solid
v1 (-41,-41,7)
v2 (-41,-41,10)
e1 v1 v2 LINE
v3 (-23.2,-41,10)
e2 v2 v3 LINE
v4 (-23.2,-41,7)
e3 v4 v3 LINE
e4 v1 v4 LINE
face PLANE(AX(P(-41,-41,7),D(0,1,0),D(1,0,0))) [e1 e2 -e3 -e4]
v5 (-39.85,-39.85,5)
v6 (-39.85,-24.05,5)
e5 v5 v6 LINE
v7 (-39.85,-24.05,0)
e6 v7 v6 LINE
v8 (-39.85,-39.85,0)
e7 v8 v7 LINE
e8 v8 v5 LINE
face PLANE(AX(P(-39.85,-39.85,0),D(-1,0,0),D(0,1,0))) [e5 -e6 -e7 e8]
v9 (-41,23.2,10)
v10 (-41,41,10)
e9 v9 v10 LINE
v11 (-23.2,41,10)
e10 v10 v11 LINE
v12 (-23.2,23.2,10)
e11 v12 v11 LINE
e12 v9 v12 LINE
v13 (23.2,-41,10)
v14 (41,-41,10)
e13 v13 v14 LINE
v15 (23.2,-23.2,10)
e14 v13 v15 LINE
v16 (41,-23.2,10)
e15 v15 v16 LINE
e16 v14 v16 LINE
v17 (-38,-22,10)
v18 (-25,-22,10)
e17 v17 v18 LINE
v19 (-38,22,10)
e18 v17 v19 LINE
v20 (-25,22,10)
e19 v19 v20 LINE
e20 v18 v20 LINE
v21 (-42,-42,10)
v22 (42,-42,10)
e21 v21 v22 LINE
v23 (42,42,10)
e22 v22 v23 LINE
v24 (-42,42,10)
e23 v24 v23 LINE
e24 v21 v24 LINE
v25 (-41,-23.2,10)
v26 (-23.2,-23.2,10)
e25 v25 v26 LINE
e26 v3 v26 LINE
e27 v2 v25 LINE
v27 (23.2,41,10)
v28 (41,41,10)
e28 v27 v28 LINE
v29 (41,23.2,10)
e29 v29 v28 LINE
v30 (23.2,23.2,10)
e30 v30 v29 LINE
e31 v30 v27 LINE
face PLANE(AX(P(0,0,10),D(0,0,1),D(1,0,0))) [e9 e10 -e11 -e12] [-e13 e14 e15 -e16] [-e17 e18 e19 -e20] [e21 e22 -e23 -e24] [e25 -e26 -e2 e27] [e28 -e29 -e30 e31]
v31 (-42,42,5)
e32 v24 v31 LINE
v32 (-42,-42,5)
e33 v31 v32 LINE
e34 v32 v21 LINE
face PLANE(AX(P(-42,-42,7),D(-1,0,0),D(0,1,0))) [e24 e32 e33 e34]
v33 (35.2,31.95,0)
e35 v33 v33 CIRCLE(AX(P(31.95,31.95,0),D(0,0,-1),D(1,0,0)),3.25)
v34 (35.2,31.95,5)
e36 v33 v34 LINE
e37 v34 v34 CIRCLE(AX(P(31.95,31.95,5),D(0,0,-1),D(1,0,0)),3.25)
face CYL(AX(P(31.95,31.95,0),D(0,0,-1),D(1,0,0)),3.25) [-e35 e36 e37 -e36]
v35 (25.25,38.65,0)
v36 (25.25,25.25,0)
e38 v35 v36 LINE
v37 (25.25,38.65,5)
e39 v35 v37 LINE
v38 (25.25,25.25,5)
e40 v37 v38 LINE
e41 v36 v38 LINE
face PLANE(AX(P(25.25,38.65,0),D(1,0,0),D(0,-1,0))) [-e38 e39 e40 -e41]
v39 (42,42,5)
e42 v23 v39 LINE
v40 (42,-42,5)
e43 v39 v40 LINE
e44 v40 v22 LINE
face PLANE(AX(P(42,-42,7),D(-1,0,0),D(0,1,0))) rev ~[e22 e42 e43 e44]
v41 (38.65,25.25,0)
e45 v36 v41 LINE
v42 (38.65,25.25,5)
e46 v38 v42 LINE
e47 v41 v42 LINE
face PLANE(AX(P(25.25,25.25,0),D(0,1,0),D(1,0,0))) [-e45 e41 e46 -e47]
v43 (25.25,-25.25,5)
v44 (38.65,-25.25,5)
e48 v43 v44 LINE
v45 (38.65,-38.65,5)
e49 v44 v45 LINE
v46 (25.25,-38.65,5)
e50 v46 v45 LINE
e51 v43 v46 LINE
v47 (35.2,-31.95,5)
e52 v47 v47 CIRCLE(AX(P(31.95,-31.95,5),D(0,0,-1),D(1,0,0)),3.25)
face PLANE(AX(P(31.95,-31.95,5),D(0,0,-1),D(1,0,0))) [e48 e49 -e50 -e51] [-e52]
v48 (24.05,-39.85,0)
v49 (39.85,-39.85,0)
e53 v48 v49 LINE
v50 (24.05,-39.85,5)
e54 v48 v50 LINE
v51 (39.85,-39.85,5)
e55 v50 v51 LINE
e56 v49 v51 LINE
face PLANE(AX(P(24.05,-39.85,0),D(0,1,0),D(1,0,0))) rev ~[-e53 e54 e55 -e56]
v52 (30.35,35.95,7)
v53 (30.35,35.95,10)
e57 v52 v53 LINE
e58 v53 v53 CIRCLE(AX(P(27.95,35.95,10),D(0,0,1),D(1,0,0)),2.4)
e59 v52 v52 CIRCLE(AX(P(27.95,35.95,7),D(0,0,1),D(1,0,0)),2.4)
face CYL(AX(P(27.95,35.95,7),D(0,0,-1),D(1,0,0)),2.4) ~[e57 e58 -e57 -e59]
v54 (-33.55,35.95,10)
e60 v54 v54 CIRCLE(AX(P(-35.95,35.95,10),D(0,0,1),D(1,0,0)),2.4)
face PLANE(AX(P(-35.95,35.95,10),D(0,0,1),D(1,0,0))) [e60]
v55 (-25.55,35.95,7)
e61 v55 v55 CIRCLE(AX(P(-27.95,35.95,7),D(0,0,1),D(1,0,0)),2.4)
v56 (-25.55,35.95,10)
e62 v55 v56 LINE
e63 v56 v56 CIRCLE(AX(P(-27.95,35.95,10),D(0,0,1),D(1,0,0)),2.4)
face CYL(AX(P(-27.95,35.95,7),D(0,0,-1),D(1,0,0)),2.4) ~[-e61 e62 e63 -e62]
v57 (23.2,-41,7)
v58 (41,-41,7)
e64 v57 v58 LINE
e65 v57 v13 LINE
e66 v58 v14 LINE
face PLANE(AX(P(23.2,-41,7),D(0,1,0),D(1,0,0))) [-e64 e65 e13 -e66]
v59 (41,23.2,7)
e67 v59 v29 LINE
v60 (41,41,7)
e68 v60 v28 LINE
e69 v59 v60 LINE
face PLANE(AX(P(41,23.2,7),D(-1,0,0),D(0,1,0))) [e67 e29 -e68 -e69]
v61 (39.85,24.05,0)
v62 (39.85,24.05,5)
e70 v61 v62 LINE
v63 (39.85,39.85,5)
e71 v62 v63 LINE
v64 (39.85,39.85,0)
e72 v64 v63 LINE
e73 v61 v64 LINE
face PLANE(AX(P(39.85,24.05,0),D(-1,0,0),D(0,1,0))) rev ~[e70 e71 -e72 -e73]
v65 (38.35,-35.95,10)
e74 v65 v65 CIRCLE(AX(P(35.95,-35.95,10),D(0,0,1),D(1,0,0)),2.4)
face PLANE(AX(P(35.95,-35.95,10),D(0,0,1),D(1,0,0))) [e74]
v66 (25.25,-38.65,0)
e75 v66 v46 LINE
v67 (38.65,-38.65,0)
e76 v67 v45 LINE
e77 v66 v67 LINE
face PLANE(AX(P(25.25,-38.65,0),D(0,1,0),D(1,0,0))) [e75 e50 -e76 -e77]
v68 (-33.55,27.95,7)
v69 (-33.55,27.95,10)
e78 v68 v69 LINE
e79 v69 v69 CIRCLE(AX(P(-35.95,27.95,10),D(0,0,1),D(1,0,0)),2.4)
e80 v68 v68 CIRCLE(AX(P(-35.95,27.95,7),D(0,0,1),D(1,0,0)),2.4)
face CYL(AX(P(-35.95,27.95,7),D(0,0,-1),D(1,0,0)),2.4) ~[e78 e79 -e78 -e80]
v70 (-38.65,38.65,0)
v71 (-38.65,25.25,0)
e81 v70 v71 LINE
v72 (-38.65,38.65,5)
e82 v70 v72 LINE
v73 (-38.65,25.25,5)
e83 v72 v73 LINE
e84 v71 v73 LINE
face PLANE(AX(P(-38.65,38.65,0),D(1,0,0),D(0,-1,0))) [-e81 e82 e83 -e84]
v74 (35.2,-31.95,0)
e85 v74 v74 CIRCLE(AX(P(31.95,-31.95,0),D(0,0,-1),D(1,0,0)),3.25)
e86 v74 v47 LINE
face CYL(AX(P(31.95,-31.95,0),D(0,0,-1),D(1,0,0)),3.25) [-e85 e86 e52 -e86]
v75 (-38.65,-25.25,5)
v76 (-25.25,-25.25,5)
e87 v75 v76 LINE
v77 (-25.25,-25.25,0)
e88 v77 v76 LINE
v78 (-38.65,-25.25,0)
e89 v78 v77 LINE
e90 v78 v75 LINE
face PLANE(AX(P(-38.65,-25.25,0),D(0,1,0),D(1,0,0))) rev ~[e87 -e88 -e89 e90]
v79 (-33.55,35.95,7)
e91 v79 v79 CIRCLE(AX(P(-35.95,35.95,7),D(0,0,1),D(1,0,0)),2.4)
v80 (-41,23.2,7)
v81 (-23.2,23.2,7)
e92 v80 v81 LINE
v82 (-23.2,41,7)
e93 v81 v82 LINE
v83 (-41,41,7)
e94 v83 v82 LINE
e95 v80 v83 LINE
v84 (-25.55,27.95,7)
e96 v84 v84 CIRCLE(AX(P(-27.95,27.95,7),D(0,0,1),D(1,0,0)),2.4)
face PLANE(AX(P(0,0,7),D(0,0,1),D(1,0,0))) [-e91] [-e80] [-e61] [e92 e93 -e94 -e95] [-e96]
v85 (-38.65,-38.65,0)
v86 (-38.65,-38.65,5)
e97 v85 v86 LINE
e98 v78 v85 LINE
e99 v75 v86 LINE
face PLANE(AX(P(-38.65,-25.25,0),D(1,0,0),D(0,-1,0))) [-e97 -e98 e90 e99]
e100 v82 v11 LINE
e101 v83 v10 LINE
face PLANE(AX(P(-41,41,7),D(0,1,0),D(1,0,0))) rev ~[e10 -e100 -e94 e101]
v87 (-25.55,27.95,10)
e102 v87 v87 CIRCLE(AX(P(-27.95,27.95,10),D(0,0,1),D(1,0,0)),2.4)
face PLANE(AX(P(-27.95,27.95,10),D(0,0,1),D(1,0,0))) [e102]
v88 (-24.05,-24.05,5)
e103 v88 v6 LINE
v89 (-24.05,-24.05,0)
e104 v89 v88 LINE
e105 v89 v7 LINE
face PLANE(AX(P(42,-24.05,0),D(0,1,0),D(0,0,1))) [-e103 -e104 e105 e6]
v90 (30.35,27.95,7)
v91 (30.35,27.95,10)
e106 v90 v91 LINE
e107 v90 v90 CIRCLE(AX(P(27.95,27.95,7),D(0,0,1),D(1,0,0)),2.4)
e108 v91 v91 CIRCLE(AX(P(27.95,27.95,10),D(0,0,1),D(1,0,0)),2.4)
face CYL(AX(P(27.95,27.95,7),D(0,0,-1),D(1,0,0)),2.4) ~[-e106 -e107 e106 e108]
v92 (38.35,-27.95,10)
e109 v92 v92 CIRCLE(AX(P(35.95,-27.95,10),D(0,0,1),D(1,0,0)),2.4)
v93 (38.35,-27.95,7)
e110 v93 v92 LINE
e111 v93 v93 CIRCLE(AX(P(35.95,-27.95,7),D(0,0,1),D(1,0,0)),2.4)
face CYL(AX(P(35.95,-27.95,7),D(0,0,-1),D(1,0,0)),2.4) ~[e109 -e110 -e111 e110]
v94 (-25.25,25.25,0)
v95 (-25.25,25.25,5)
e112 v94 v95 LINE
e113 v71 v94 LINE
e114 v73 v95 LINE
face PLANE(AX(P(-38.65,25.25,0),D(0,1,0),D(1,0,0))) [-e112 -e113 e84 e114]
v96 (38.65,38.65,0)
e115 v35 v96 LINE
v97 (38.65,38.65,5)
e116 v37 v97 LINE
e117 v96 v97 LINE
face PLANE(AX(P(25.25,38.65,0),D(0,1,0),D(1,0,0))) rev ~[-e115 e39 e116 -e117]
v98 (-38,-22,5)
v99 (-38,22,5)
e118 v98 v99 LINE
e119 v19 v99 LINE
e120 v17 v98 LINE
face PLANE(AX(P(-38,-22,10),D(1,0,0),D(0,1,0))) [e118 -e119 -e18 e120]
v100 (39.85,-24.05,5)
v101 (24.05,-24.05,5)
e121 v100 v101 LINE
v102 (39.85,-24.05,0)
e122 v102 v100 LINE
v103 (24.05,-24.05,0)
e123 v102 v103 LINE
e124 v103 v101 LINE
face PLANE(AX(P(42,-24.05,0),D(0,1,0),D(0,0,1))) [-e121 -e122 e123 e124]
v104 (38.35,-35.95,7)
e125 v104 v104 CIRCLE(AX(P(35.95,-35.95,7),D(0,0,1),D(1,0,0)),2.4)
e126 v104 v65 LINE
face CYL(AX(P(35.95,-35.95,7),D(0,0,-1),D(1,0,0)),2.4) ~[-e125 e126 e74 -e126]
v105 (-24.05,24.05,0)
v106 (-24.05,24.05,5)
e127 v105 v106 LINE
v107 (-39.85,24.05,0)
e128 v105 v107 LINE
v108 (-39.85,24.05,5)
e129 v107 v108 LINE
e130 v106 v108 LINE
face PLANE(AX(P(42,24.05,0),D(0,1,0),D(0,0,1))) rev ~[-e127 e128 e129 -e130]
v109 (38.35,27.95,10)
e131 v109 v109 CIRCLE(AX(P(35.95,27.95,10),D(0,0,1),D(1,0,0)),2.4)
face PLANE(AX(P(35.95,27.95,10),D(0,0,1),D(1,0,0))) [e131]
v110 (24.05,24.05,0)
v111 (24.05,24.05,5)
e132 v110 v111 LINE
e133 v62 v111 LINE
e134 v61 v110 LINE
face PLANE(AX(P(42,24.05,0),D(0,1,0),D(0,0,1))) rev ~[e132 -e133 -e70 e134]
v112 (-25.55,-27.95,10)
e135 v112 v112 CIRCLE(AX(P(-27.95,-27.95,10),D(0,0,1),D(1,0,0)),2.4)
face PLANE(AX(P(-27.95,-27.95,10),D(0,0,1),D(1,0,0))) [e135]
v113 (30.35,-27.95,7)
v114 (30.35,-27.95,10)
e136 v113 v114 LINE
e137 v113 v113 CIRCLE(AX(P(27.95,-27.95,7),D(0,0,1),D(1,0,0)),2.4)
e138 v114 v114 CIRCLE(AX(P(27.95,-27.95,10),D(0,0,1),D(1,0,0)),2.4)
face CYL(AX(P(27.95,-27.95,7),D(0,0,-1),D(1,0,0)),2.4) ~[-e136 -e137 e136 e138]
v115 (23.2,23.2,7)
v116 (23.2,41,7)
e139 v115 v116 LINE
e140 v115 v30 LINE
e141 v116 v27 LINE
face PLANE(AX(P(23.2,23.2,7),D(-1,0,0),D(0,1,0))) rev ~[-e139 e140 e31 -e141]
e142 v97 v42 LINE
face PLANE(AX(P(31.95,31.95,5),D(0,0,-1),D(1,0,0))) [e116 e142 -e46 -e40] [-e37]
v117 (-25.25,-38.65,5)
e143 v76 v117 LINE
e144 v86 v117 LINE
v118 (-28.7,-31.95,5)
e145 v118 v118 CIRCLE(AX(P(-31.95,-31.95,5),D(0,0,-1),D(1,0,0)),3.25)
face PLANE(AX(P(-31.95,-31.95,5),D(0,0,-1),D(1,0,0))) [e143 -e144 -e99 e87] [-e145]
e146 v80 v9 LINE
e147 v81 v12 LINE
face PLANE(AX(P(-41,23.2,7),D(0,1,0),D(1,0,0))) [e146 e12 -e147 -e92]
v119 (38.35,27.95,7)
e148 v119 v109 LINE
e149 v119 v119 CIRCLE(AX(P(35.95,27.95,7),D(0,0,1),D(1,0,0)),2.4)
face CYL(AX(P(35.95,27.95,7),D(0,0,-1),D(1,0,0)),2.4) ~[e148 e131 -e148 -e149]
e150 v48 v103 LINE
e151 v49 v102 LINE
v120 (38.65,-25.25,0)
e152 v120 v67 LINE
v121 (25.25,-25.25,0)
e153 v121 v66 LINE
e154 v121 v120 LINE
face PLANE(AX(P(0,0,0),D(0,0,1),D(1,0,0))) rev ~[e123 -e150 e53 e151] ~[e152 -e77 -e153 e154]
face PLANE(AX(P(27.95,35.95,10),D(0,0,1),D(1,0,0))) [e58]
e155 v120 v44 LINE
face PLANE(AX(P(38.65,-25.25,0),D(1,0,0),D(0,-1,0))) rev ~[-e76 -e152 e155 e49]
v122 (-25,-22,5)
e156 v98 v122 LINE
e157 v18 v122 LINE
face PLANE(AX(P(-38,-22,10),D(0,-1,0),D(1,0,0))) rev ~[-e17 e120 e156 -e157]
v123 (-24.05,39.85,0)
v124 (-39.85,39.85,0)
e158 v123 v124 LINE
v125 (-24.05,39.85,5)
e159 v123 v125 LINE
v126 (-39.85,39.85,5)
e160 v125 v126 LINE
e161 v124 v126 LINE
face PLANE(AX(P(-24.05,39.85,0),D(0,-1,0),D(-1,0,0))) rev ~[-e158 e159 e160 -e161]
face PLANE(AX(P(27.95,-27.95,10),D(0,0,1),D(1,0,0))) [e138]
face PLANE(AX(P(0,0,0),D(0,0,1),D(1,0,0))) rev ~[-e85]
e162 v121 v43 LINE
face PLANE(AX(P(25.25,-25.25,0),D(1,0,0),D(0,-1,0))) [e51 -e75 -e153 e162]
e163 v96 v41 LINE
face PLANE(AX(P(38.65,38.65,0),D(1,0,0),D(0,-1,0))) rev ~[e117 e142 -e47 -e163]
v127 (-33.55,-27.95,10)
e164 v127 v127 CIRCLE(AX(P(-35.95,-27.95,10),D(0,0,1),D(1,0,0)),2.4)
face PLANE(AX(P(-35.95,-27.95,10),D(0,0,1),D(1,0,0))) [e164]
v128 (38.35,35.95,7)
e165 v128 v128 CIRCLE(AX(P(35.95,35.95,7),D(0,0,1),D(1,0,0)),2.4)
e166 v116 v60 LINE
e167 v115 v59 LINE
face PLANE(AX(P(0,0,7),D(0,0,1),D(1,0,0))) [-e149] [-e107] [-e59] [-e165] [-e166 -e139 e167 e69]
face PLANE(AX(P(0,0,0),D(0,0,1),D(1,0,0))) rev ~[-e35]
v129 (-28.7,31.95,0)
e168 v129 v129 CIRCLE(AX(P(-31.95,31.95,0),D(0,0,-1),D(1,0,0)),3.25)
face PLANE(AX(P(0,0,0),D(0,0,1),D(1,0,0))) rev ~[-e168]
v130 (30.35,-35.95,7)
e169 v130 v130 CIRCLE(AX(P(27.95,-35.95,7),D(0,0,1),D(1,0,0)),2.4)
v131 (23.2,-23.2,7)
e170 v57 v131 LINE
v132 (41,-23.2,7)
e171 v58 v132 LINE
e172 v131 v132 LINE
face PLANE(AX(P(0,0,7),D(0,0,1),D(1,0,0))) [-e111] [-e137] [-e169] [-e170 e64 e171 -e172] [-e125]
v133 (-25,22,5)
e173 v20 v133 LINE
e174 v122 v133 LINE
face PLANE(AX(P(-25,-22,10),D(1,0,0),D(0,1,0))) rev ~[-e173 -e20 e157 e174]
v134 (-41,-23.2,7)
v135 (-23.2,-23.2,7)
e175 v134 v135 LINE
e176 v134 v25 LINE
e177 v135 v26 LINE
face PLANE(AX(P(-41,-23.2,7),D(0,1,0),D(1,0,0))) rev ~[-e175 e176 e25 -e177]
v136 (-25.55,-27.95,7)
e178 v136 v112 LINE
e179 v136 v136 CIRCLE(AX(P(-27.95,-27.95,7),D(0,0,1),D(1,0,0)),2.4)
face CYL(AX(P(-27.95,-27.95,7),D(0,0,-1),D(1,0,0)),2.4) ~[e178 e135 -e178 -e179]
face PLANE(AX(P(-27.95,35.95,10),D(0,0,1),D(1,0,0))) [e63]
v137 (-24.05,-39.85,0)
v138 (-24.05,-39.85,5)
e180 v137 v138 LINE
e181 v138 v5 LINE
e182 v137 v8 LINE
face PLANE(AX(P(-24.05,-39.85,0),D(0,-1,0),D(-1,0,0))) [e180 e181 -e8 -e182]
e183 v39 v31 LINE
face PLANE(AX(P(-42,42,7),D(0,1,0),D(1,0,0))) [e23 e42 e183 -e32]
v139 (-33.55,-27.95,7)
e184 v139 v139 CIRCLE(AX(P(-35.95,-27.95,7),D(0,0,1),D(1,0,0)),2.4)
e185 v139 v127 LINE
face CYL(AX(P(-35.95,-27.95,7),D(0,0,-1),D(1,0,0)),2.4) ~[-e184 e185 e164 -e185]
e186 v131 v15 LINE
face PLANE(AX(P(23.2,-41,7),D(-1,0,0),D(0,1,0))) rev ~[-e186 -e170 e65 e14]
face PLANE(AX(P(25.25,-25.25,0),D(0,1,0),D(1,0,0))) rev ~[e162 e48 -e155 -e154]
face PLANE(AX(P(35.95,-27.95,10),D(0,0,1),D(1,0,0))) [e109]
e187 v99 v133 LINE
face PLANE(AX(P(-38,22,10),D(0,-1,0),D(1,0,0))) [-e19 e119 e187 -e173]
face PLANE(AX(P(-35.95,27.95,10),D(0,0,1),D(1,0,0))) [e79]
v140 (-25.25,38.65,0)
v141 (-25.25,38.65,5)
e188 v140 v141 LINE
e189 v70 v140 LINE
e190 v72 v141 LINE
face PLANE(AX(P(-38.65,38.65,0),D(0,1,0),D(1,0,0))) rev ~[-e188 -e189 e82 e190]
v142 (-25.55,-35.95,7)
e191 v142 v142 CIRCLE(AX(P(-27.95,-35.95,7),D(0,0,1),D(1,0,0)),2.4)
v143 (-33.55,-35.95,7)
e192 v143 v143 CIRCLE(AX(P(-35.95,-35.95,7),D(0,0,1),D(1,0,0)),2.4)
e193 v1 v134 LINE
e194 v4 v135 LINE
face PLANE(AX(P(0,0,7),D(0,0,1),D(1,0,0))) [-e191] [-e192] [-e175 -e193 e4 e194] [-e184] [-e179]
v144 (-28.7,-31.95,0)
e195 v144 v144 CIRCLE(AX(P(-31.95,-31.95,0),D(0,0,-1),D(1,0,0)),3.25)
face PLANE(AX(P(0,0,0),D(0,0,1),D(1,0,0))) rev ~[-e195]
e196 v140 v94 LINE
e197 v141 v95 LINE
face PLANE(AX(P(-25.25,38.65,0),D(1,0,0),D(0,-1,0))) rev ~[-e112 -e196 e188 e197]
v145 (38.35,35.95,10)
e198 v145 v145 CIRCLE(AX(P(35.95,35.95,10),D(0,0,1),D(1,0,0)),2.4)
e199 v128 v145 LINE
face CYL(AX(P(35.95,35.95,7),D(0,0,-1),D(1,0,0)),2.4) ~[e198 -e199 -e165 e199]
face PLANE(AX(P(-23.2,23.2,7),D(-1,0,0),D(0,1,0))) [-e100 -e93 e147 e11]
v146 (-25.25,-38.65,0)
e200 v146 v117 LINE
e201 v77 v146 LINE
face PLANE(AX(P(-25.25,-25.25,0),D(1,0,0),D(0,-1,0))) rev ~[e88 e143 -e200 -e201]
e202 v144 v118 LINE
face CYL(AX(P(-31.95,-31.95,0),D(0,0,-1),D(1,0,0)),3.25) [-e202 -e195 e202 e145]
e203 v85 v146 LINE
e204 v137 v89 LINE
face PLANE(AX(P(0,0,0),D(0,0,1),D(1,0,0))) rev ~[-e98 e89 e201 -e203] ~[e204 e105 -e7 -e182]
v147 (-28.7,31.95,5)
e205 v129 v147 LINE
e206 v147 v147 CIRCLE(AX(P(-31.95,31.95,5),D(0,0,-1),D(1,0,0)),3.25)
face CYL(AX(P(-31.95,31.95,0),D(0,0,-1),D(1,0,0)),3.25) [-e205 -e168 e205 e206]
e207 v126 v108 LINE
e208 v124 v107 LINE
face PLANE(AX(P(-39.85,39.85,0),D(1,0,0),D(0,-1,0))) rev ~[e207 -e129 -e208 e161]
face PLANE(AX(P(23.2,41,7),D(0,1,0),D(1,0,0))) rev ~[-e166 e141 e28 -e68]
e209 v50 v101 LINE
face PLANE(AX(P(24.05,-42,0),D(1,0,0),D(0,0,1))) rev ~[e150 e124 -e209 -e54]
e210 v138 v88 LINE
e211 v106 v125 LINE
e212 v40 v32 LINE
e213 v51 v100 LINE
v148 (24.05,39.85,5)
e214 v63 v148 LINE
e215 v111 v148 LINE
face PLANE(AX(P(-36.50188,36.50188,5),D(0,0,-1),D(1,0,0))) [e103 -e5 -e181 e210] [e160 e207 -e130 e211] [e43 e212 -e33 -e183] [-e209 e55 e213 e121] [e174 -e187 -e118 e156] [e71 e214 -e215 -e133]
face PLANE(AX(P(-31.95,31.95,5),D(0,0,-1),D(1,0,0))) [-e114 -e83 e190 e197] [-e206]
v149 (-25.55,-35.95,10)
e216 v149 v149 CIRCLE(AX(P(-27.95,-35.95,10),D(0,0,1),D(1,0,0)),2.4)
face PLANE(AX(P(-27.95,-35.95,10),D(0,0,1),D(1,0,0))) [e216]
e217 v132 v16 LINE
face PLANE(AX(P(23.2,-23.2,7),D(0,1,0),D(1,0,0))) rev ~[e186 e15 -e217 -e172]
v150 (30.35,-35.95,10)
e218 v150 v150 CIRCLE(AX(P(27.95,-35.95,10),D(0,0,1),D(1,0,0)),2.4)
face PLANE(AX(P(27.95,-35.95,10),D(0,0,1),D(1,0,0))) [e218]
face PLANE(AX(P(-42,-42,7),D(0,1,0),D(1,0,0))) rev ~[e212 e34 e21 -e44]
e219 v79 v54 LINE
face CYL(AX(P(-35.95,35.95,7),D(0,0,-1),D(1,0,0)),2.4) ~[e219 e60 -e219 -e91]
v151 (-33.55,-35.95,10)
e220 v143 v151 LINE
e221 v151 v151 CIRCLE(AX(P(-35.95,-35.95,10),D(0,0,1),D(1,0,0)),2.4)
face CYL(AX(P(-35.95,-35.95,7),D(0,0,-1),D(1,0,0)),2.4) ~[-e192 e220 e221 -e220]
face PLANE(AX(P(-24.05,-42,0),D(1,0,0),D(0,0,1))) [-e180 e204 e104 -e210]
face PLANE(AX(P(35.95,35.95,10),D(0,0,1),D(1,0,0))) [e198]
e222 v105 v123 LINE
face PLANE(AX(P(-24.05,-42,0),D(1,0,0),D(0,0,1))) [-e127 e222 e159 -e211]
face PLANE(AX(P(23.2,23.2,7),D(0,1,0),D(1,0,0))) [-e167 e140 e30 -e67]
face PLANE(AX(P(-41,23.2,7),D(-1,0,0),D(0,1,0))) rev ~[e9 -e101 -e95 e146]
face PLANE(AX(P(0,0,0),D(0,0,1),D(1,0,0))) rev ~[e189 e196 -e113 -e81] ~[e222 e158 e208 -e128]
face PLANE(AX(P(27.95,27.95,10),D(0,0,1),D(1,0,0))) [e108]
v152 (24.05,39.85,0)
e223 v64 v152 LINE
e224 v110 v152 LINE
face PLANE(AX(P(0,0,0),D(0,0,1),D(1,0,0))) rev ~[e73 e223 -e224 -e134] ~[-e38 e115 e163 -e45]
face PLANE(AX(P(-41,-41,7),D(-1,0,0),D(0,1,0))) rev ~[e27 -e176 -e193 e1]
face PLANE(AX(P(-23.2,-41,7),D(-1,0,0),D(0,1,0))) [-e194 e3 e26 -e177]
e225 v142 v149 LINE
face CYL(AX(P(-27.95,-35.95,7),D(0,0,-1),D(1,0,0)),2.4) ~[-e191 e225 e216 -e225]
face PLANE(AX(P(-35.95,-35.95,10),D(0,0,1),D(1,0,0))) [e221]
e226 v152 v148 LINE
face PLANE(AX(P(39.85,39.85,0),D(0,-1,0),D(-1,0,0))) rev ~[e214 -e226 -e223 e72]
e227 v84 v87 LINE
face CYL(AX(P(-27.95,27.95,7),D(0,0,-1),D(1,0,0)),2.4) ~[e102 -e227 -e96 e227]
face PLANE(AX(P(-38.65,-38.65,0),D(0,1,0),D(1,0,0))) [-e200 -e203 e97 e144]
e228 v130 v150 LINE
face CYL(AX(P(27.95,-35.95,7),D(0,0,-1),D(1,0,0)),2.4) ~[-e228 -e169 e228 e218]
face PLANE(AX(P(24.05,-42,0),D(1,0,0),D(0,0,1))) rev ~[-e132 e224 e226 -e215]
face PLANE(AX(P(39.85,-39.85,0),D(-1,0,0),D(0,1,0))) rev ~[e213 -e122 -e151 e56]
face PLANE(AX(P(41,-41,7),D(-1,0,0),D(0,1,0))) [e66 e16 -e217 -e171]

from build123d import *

# Parameters (mm, degrees)
SKETCH_W        = 84
SKETCH_H        = 84
PAD_DEPTH       = 7
SKETCH006_W     = 13.4
SKETCH006_H     = 13.4
SKETCH006_R     = 3.25
POCKET_DEPTH    = 5
SKETCH004_R     = 2.4
PAD001_DEPTH    = 3
SKETCH011_W     = 84
SKETCH011_H     = 84
SKETCH011_W_2   = 17.8
SKETCH011_H_2   = 17.8
PAD002_DEPTH    = 3
SKETCH005_W     = 13
SKETCH005_H     = 44
POCKET001_DEPTH = 10.001
SKETCH012_W     = 48.1
SKETCH012_H     = 5
POCKET002_DEPTH = 84.001
SKETCH013_W     = 48.1
SKETCH013_H     = 5
POCKET003_DEPTH = 84.001


with BuildPart() as part:
    # Sketch → Pad (new body)
    with BuildSketch(Plane.XY):
        Rectangle(SKETCH_W, SKETCH_H)
    extrude(amount=PAD_DEPTH)

    # Sketch006 → Pocket (cut)
    with BuildSketch(Plane(origin=(0, 0, 0), x_dir=(1, 0, 0), z_dir=(0, 0, -1))):
        with Locations((-31.95, 31.95)):
            Rectangle(SKETCH006_W, SKETCH006_H)
        with Locations((-31.95, 31.95)):
            Circle(SKETCH006_R, mode=Mode.SUBTRACT)
        with Locations((31.95, 31.95)):
            Rectangle(SKETCH006_W, SKETCH006_H)
        with Locations((31.95, 31.95)):
            Circle(SKETCH006_R, mode=Mode.SUBTRACT)
        with Locations((-31.95, -31.95)):
            Rectangle(SKETCH006_W, SKETCH006_H)
        with Locations((-31.95, -31.95)):
            Circle(SKETCH006_R, mode=Mode.SUBTRACT)
        with Locations((31.95, -31.95)):
            Rectangle(SKETCH006_W, SKETCH006_H)
        with Locations((31.95, -31.95)):
            Circle(SKETCH006_R, mode=Mode.SUBTRACT)
        Polygon((-42, -24.05), (-42, -42), (-24.05, -42), (-24.05, -39.85), (-39.85, -39.85), (-39.85, -24.05), align=None)
        Polygon((24.05, -42), (42, -42), (42, -24.05), (39.85, -24.05), (39.85, -39.85), (24.05, -39.85), align=None)
        Polygon((42, 24.05), (42, 42), (24.05, 42), (24.05, 39.85), (39.85, 39.85), (39.85, 24.05), align=None)
        Polygon((-42, 24.05), (-42, 42), (-24.05, 42), (-24.05, 39.85), (-39.85, 39.85), (-39.85, 24.05), align=None)
    extrude(amount=-POCKET_DEPTH, mode=Mode.SUBTRACT)

    # Sketch004 → Pad001 (new body)
    with BuildSketch(Plane.XY.offset(7)):
        with Locations((-35.95, -35.95)):
            Circle(SKETCH004_R)
        with Locations((35.95, 35.95)):
            Circle(SKETCH004_R)
        with Locations((35.95, -35.95)):
            Circle(SKETCH004_R)
        with Locations((-35.95, 35.95)):
            Circle(SKETCH004_R)
        with Locations((-27.95, 35.95)):
            Circle(SKETCH004_R)
        with Locations((-27.95, 27.95)):
            Circle(SKETCH004_R)
        with Locations((27.95, 27.95)):
            Circle(SKETCH004_R)
        with Locations((27.95, 35.95)):
            Circle(SKETCH004_R)
        with Locations((-35.95, 27.95)):
            Circle(SKETCH004_R)
        with Locations((35.95, 27.95)):
            Circle(SKETCH004_R)
        with Locations((27.95, -27.95)):
            Circle(SKETCH004_R)
        with Locations((27.95, -35.95)):
            Circle(SKETCH004_R)
        with Locations((35.95, -27.95)):
            Circle(SKETCH004_R)
        with Locations((-27.95, -27.95)):
            Circle(SKETCH004_R)
        with Locations((-27.95, -35.95)):
            Circle(SKETCH004_R)
        with Locations((-35.95, -27.95)):
            Circle(SKETCH004_R)
    extrude(amount=PAD001_DEPTH)

    # Sketch011 → Pad002 (new body)
    with BuildSketch(Plane.XY.offset(7)):
        Rectangle(SKETCH011_W, SKETCH011_H)
        with Locations((-32.1, 32.1)):
            Rectangle(SKETCH011_W_2, SKETCH011_H_2, mode=Mode.SUBTRACT)
        with Locations((-32.1, -32.1)):
            Rectangle(SKETCH011_W_2, SKETCH011_H_2, mode=Mode.SUBTRACT)
        with Locations((32.1, 32.1)):
            Rectangle(SKETCH011_W_2, SKETCH011_H_2, mode=Mode.SUBTRACT)
        with Locations((32.1, -32.1)):
            Rectangle(SKETCH011_W_2, SKETCH011_H_2, mode=Mode.SUBTRACT)
    extrude(amount=PAD002_DEPTH)

    # Sketch005 → Pocket001 (cut, through all)
    with BuildSketch(Plane.XY.offset(10)):
        with Locations((-31.5, 0)):
            Rectangle(SKETCH005_W, SKETCH005_H)
    extrude(amount=-POCKET001_DEPTH, mode=Mode.SUBTRACT)

    # Sketch012 → Pocket002 (cut, through all)
    with BuildSketch(Plane.XZ.offset(42)):
        with Locations((0, 2.5)):
            Rectangle(SKETCH012_W, SKETCH012_H)
    extrude(amount=-POCKET002_DEPTH, mode=Mode.SUBTRACT)

    # Sketch013 → Pocket003 (cut, through all)
    with BuildSketch(Plane.YZ.offset(42)):
        with Locations((0, 2.5)):
            Rectangle(SKETCH013_W, SKETCH013_H)
    extrude(amount=-POCKET003_DEPTH, mode=Mode.SUBTRACT)


solid = part.part
